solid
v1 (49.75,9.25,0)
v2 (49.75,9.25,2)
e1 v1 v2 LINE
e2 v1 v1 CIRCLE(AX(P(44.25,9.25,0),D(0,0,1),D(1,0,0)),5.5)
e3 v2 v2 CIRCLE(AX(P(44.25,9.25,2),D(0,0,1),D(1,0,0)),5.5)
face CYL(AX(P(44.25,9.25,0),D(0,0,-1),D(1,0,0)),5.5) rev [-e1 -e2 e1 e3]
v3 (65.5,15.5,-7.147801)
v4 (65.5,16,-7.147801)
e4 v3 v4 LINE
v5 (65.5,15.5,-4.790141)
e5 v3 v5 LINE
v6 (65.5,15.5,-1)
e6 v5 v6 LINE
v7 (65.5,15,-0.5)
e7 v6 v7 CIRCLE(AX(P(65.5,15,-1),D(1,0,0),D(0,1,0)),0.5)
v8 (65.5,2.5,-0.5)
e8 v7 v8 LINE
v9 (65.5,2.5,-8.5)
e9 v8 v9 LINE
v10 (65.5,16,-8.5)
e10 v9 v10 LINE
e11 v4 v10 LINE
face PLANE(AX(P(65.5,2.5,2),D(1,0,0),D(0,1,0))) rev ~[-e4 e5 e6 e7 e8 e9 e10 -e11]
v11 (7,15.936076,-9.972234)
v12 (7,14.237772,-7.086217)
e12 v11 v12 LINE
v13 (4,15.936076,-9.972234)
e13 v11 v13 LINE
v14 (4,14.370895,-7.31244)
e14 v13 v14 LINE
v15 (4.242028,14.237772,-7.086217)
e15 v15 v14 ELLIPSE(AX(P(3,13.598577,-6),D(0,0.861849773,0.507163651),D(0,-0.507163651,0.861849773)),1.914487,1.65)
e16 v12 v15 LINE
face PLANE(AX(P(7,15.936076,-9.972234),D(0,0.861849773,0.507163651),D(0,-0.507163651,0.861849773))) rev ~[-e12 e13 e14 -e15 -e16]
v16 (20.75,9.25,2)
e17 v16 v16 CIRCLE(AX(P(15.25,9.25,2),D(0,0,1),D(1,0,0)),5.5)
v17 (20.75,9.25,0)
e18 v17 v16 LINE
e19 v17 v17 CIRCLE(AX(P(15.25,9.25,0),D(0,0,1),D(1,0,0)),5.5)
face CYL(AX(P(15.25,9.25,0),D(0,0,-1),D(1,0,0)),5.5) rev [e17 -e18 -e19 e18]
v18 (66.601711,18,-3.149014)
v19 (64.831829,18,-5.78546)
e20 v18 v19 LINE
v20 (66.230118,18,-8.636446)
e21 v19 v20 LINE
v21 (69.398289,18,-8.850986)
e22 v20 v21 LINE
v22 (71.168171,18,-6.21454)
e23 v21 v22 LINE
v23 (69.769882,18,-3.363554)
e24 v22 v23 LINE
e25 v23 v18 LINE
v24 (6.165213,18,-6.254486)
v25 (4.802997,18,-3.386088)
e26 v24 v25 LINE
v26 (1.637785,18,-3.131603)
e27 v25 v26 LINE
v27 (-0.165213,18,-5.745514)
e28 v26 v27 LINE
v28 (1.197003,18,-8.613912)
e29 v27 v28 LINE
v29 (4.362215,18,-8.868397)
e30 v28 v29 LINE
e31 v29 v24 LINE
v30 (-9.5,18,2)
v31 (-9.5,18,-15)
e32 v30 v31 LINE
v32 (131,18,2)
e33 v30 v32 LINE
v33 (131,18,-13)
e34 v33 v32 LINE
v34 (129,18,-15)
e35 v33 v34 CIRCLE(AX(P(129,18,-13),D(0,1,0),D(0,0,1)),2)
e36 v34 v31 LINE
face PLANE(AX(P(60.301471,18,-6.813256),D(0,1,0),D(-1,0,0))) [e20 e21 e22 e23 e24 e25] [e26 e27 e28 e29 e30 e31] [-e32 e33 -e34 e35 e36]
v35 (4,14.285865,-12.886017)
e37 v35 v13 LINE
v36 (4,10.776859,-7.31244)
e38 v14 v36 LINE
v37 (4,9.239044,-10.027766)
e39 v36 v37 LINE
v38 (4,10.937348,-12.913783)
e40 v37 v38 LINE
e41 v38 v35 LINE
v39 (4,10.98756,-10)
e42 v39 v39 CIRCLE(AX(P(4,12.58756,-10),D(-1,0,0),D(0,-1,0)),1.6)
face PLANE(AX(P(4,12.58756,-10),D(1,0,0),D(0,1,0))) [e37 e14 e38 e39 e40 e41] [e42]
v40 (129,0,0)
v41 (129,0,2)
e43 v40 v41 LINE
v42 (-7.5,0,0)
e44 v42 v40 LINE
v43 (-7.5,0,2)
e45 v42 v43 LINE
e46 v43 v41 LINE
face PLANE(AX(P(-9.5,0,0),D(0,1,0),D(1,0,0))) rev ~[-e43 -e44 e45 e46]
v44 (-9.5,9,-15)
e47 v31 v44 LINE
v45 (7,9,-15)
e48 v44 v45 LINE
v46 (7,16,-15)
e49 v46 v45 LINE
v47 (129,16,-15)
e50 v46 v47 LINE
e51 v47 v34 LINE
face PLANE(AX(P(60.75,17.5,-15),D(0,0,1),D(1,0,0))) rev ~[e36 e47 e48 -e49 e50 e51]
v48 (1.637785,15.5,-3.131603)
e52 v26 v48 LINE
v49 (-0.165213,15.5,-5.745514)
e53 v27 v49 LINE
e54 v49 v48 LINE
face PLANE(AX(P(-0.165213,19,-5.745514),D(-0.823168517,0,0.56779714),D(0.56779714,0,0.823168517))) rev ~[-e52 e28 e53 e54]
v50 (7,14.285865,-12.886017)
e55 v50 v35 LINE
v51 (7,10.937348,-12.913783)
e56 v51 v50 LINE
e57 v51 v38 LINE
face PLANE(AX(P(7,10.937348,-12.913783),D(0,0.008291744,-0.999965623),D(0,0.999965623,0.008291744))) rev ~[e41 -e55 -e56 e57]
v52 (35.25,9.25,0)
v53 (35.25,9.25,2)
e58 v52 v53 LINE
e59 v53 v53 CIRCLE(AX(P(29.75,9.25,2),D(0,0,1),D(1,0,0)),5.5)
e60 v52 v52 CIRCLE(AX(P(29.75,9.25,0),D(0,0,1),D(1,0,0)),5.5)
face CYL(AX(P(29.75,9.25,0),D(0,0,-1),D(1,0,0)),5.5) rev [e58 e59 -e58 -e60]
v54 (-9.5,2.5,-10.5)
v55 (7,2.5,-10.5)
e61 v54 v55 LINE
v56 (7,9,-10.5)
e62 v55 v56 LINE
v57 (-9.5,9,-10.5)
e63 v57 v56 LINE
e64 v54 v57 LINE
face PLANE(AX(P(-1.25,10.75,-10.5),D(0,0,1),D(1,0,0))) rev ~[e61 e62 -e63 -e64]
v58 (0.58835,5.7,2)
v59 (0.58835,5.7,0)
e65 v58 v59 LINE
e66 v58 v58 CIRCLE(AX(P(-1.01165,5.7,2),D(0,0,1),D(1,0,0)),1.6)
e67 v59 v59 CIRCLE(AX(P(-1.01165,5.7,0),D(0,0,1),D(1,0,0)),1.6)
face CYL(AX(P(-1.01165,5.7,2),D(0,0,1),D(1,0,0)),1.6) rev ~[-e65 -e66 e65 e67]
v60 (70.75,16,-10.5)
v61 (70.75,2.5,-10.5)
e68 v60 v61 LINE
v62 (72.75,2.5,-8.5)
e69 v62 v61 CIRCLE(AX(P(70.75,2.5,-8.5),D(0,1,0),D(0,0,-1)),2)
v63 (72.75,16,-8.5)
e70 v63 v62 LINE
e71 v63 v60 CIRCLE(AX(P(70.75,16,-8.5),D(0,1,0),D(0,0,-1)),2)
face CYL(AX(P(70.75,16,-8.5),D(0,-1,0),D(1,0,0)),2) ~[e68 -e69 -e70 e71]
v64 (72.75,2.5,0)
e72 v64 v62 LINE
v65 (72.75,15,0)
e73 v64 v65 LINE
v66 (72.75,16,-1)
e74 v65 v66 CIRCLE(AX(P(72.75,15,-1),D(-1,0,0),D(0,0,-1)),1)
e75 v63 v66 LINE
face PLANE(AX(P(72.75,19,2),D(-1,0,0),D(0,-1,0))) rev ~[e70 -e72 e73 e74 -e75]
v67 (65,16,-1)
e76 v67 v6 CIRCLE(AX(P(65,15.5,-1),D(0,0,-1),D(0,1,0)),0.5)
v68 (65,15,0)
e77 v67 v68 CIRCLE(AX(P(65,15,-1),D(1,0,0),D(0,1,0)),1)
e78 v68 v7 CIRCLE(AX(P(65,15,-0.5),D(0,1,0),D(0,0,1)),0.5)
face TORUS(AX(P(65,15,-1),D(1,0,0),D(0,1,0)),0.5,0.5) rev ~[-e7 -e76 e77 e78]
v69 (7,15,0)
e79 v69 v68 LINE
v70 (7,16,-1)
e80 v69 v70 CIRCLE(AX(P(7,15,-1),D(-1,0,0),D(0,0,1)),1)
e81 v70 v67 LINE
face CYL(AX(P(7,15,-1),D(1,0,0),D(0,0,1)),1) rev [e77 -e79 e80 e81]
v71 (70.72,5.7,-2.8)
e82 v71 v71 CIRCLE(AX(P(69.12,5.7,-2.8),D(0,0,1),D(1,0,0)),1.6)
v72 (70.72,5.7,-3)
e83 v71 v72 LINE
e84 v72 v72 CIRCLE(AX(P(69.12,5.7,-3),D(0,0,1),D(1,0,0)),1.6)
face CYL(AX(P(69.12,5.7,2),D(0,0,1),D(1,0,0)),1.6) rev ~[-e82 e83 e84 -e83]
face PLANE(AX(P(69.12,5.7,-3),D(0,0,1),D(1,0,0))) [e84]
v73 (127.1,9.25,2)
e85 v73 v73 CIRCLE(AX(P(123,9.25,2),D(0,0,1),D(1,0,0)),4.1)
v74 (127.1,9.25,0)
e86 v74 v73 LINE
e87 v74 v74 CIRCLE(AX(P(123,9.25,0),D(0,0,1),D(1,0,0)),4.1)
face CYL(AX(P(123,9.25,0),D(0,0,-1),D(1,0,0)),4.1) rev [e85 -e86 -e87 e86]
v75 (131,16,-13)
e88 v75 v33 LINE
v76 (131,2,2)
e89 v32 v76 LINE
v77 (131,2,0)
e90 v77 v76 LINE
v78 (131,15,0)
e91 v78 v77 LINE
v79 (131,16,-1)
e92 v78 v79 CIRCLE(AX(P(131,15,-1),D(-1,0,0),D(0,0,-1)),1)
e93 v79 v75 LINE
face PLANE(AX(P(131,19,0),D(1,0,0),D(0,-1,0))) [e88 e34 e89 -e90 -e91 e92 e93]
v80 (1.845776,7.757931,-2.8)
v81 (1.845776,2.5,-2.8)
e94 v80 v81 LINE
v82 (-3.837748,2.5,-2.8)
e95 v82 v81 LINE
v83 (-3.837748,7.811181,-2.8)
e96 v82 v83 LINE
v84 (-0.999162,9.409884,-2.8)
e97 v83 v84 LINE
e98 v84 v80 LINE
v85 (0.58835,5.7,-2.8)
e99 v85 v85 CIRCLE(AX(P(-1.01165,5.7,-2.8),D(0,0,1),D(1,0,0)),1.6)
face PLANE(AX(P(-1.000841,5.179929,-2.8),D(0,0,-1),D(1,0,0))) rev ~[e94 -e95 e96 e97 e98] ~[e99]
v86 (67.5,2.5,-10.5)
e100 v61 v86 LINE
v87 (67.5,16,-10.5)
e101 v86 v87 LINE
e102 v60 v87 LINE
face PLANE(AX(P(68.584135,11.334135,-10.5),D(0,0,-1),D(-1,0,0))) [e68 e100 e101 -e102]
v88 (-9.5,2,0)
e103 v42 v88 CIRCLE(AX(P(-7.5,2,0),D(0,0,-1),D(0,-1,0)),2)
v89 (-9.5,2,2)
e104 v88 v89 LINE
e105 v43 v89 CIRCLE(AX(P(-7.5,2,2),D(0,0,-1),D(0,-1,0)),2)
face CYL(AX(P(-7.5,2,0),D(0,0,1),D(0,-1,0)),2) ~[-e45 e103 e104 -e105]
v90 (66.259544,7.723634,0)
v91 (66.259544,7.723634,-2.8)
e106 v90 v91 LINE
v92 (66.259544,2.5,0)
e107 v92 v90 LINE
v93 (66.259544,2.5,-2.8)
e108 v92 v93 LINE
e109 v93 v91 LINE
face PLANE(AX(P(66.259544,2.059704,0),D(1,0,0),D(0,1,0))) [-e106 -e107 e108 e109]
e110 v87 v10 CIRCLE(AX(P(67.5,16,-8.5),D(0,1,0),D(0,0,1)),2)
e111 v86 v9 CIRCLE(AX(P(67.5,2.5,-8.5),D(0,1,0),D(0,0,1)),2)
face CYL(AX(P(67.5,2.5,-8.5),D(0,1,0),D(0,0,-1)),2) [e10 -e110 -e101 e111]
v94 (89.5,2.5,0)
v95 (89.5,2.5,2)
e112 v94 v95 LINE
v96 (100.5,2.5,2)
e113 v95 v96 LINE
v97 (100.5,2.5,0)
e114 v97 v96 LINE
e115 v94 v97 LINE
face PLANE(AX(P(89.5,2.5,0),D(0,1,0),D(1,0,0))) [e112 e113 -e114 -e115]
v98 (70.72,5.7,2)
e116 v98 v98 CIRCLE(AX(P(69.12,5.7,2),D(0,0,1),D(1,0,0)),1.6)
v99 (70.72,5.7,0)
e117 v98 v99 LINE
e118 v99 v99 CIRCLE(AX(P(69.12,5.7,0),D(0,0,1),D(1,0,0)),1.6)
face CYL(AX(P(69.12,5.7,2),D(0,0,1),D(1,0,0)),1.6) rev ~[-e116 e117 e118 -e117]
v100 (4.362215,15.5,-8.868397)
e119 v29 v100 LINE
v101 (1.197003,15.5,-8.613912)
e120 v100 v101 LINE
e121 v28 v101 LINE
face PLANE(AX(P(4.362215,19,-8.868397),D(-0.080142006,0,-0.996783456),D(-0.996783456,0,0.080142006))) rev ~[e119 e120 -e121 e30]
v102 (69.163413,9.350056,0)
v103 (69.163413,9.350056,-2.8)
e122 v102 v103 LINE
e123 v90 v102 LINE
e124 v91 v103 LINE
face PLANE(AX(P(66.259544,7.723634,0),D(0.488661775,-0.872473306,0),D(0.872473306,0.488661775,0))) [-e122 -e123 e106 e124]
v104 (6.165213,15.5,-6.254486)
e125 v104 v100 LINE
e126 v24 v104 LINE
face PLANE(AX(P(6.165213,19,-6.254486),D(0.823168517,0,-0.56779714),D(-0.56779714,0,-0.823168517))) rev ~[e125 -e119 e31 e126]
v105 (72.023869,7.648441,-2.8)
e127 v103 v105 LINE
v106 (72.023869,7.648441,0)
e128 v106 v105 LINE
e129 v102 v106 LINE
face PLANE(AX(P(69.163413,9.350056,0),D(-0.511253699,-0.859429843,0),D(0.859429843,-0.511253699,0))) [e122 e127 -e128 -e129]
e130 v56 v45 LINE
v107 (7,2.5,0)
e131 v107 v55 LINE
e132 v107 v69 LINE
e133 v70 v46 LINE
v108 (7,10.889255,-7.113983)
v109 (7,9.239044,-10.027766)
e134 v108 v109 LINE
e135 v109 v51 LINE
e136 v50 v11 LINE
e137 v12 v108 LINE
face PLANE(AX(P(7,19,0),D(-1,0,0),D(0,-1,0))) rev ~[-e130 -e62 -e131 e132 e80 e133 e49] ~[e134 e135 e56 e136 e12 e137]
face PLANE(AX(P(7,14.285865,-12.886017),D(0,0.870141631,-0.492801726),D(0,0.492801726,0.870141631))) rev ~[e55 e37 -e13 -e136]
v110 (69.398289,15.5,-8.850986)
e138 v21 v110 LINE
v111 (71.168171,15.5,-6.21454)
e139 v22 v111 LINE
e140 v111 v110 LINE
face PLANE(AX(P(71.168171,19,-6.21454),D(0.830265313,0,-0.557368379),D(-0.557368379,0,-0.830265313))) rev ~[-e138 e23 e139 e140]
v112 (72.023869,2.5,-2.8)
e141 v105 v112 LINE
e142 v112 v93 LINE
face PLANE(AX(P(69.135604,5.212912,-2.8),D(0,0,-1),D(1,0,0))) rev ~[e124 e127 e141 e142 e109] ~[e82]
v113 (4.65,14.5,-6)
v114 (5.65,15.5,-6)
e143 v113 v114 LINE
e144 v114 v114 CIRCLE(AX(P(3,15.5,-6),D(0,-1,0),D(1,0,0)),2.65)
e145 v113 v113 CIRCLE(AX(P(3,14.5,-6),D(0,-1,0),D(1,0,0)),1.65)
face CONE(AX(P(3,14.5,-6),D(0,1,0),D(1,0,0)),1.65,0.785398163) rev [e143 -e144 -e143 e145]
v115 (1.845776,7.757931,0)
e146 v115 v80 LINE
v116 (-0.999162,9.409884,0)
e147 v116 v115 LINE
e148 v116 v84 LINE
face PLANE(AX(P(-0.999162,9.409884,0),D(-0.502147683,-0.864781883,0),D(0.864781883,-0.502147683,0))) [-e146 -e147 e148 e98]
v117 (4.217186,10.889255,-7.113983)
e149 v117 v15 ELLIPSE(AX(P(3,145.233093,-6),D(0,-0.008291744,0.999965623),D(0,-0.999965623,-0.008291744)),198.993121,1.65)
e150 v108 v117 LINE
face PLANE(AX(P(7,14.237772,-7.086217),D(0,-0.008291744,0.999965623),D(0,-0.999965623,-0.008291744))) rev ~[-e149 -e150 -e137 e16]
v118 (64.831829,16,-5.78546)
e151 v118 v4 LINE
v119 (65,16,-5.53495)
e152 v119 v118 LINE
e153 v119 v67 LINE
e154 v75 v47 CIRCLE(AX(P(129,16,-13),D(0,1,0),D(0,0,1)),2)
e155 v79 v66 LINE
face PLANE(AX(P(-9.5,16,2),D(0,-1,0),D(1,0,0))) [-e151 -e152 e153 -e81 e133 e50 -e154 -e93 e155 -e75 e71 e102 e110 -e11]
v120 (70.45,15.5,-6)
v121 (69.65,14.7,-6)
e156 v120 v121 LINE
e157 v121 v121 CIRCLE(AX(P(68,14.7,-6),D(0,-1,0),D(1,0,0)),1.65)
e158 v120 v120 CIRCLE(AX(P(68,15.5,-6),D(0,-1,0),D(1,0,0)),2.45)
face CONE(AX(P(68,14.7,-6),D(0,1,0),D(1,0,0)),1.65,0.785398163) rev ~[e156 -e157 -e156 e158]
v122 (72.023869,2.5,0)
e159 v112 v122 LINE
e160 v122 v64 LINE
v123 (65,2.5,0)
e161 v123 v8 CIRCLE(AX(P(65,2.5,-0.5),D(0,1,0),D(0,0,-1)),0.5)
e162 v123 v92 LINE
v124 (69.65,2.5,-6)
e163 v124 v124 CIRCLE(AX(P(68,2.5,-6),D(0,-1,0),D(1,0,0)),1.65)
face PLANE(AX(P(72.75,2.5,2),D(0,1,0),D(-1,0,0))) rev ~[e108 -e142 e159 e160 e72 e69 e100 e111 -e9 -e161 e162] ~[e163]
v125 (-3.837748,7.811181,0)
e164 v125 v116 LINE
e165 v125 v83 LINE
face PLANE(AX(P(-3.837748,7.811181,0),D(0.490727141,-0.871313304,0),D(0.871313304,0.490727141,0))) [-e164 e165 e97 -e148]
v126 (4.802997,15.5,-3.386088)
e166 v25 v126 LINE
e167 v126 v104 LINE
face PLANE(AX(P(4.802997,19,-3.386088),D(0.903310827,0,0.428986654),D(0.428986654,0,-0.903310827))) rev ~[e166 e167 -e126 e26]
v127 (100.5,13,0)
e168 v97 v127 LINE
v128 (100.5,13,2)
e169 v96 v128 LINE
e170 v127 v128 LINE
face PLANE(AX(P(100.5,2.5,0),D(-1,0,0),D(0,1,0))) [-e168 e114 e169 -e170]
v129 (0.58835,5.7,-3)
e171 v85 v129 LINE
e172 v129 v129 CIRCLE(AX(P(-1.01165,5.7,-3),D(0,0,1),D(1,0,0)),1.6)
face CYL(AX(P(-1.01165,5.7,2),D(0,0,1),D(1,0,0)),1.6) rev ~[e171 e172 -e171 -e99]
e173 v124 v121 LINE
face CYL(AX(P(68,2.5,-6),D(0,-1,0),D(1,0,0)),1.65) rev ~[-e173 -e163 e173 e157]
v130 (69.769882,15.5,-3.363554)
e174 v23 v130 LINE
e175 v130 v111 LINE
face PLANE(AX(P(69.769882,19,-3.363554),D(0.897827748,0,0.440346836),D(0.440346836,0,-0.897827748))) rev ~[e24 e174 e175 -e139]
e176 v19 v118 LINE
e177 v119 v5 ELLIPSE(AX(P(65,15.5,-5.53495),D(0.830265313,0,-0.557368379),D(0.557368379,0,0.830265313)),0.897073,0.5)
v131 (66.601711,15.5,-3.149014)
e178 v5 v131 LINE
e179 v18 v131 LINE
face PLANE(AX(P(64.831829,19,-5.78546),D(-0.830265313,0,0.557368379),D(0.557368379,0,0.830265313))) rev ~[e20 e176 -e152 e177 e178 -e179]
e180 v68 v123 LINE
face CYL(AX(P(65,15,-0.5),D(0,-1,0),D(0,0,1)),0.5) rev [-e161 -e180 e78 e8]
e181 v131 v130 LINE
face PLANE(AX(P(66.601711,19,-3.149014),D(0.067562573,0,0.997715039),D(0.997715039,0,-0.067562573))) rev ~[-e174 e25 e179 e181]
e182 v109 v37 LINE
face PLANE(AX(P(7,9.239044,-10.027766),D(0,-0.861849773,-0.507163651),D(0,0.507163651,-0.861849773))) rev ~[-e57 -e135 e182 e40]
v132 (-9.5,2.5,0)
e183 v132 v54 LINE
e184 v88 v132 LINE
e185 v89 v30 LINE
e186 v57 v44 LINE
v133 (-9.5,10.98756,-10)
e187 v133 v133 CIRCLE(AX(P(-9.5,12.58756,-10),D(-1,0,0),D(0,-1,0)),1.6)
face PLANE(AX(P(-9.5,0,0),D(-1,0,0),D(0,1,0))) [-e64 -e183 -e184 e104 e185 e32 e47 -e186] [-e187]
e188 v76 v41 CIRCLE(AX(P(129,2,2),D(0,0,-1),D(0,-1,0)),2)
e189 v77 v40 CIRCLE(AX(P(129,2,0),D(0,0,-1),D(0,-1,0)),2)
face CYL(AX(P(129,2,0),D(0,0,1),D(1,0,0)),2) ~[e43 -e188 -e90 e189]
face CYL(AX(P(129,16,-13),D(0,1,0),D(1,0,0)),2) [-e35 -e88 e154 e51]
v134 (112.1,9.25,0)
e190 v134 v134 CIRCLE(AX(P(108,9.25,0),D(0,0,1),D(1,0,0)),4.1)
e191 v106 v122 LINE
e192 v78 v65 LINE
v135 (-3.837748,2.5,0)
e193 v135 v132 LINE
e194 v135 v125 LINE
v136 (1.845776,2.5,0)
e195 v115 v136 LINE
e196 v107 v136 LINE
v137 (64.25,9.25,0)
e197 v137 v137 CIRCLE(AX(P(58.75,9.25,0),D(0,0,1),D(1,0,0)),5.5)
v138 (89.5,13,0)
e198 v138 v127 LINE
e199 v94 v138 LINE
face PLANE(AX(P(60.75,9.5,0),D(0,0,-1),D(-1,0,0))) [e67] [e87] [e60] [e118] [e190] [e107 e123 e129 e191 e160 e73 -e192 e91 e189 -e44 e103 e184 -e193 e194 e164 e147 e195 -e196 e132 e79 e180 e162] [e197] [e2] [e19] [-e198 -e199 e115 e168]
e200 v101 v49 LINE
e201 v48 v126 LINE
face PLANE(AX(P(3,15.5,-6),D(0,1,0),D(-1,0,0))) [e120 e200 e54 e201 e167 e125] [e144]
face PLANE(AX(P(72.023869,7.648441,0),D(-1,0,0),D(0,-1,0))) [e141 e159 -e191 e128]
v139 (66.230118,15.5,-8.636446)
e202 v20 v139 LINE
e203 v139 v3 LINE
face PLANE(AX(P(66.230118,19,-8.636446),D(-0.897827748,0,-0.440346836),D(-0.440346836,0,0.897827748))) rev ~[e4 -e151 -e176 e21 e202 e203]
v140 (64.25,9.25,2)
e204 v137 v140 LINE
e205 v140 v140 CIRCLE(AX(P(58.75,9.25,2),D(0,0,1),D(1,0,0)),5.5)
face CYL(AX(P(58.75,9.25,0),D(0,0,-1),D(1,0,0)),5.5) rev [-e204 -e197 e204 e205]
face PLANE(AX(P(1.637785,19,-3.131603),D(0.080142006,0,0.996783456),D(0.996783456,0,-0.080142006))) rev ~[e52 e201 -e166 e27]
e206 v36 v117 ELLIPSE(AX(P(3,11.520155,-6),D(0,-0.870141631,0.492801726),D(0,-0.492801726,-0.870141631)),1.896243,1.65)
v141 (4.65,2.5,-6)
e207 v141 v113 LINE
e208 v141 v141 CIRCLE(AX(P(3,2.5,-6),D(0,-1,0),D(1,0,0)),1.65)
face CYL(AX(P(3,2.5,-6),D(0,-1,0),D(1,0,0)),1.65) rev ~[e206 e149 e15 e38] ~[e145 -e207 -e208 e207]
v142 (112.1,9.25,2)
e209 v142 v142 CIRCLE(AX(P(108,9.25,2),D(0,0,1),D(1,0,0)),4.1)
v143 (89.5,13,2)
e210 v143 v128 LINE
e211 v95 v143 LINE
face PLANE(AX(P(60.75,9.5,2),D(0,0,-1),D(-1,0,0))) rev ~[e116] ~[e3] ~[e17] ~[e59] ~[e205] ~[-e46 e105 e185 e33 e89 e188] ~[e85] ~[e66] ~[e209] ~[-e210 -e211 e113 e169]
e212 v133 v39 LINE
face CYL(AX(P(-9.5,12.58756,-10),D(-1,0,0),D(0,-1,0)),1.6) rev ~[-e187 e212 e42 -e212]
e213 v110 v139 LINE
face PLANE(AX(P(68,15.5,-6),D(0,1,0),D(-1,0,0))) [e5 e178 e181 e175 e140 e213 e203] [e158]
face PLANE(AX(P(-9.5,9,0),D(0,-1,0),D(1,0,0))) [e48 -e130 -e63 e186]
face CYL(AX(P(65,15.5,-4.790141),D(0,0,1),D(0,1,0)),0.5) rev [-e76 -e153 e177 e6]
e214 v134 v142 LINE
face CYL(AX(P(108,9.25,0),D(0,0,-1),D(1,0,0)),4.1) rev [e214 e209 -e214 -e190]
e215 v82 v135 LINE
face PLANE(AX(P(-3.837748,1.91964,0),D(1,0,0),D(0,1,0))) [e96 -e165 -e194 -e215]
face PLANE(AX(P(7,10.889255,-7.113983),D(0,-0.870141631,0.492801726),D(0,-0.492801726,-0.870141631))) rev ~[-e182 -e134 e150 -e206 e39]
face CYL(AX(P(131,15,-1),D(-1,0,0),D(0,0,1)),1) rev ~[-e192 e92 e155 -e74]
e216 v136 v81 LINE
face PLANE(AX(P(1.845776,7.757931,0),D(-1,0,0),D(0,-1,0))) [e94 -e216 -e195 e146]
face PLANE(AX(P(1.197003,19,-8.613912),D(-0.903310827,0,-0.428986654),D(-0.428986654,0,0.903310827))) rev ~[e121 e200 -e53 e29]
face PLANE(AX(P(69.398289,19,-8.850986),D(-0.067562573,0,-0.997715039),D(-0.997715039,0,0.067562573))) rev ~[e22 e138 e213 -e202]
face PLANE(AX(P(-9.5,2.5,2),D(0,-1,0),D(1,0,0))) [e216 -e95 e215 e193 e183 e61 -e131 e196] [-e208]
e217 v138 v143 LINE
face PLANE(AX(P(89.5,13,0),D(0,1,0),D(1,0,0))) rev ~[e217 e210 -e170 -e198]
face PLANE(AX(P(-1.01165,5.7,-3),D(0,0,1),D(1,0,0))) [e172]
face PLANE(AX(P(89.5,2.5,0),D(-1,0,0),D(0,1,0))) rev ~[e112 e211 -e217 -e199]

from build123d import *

# Parameters (mm, degrees)
SKETCH_R        = 5.5
SKETCH_R_2      = 4.1
SKETCH_W        = 11
SKETCH_H        = 10.5
PAD_DEPTH       = 2
SKETCH001_W     = 16.5
SKETCH001_H     = 16.5
PAD001_DEPTH    = 12.5
SKETCH002_W     = 140.5
SKETCH002_H     = 3
PAD002_DEPTH    = 17
SKETCH003_W     = 16.5
SKETCH003_H     = 10
PAD003_DEPTH    = 15
SKETCH004_R     = 1.65
POCKET_DEPTH    = 20
POCKET001_DEPTH = 3.5
SKETCH006_R     = 1.6
POCKET002_DEPTH = 20
POCKET003_DEPTH = 3
SKETCH008_R     = 1.6
POCKET004_DEPTH = 5
POCKET005_DEPTH = 2.8
POCKET006_DEPTH = 2.8
CHAMFER_SIZE    = 0.8
CHAMFER001_SIZE = 1
SKETCH011_W     = 142.26446
SKETCH011_H     = 19.063439
POCKET007_DEPTH = 1
FILLET_R        = 2
FILLET001_R     = 2
FILLET002_R     = 2
FILLET003_R     = 2
FILLET004_R     = 2
FILLET005_R     = 1
FILLET006_R     = 1
FILLET007_R     = 0.5


with BuildPart() as part:
    # Sketch → Pad (new body)
    with BuildSketch(Plane.XY):
        Polygon((0, 19), (131, 19), (131, 0), (0, 0), (-9.5, 0), (-9.5, 19), align=None)
        with Locations((15.25, 9.25)):
            Circle(SKETCH_R, mode=Mode.SUBTRACT)
        with Locations((29.75, 9.25)):
            Circle(SKETCH_R, mode=Mode.SUBTRACT)
        with Locations((44.25, 9.25)):
            Circle(SKETCH_R, mode=Mode.SUBTRACT)
        with Locations((58.75, 9.25)):
            Circle(SKETCH_R, mode=Mode.SUBTRACT)
        with Locations((108, 9.25)):
            Circle(SKETCH_R_2, mode=Mode.SUBTRACT)
        with Locations((123, 9.25)):
            Circle(SKETCH_R_2, mode=Mode.SUBTRACT)
        with Locations((95, 7.75)):
            Rectangle(SKETCH_W, SKETCH_H, mode=Mode.SUBTRACT)
    extrude(amount=PAD_DEPTH)

    # Sketch001 → Pad001 (new body)
    with BuildSketch(Plane.XY.offset(2)):
        with Locations((-1.25, 10.75)):
            Rectangle(SKETCH001_W, SKETCH001_H)
        Polygon((63.25, 19), (72.75, 19), (72.75, 2.5), (65.5, 2.5), (65.5, 16), (63.25, 16), align=None)
    extrude(amount=-PAD001_DEPTH)

    # Sketch002 → Pad002 (new body)
    with BuildSketch(Plane.XY.offset(2)):
        with Locations((60.75, 17.5)):
            Rectangle(SKETCH002_W, SKETCH002_H)
    extrude(amount=-PAD002_DEPTH)

    # Sketch003 → Pad003 (new body)
    with BuildSketch(Plane(origin=(0, 0, 0), x_dir=(1, 0, 0), z_dir=(0, 0, -1))):
        with Locations((-1.25, -14)):
            Rectangle(SKETCH003_W, SKETCH003_H)
    extrude(amount=PAD003_DEPTH)

    # Sketch004 → Pocket (cut)
    with BuildSketch(Plane.XZ.offset(-2.5)):
        with Locations((3, -6)):
            Circle(SKETCH004_R)
        with Locations((68, -6)):
            Circle(SKETCH004_R)
    extrude(amount=-POCKET_DEPTH, mode=Mode.SUBTRACT)

    # Sketch005 → Pocket001 (cut)
    with BuildSketch(Plane(origin=(0, 19, 0), x_dir=(-1, 0, 0), z_dir=(0, 1, 0))):
        Polygon((-4.802997, -3.386088), (-6.165213, -6.254486), (-4.362215, -8.868397), (-1.197003, -8.613912), (0.165213, -5.745514), (-1.637785, -3.131603), align=None)
        Polygon((-64.831829, -5.78546), (-66.601711, -3.149014), (-69.769882, -3.363554), (-71.168171, -6.21454), (-69.398289, -8.850986), (-66.230118, -8.636446), align=None)
    extrude(amount=-POCKET001_DEPTH, mode=Mode.SUBTRACT)

    # Sketch006 → Pocket002 (cut)
    with BuildSketch(Plane(origin=(-9.5, 0, 0), x_dir=(0, -1, 0), z_dir=(-1, 0, 0))):
        with Locations((-12.58756, -10)):
            Circle(SKETCH006_R)
    extrude(amount=-POCKET002_DEPTH, mode=Mode.SUBTRACT)

    # Sketch007 → Pocket003 (cut)
    with BuildSketch(Plane.YZ.offset(7)):
        Polygon((14.285865, -12.886017), (15.936076, -9.972234), (14.237772, -7.086217), (10.889255, -7.113983), (9.239044, -10.027766), (10.937348, -12.913783), align=None)
    extrude(amount=-POCKET003_DEPTH, mode=Mode.SUBTRACT)

    # Sketch008 → Pocket004 (cut)
    with BuildSketch(Plane.XY.offset(2)):
        with Locations((69.12, 5.7)):
            Circle(SKETCH008_R)
        with Locations((-1.01165, 5.7)):
            Circle(SKETCH008_R)
    extrude(amount=-POCKET004_DEPTH, mode=Mode.SUBTRACT)

    # Sketch009 → Pocket005 (cut)
    with BuildSketch(Plane(origin=(0, 0, 0), x_dir=(1, 0, 0), z_dir=(0, 0, -1))):
        Polygon((66.259544, -7.723634), (69.163413, -9.350056), (72.023869, -7.648441), (72.023869, -2.059704), (66.259544, -2.059704), align=None)
    extrude(amount=POCKET005_DEPTH, mode=Mode.SUBTRACT)

    # Sketch010 → Pocket006 (cut)
    with BuildSketch(Plane(origin=(0, 0, 0), x_dir=(1, 0, 0), z_dir=(0, 0, -1))):
        Polygon((-3.837748, -7.811181), (-0.999162, -9.409884), (1.845776, -7.757931), (1.845776, -1.91964), (-3.837748, -1.91964), align=None)
    extrude(amount=POCKET006_DEPTH, mode=Mode.SUBTRACT)

    # Chamfer
    chamfer_edges = [part.edges().sort_by_distance(p)[0] for p in [
        (66.35, 15.5, -6),
    ]]
    chamfer(chamfer_edges, length=CHAMFER_SIZE)

    # Chamfer001
    chamfer001_edges = [part.edges().sort_by_distance(p)[0] for p in [
        (1.35, 15.5, -6),
    ]]
    chamfer(chamfer001_edges, length=CHAMFER001_SIZE)

    # Sketch011 → Pocket007 (cut)
    with BuildSketch(Plane(origin=(0, 19, 0), x_dir=(-1, 0, 0), z_dir=(0, 1, 0))):
        with Locations((-60.301471, -6.813256)):
            Rectangle(SKETCH011_W, SKETCH011_H)
    extrude(amount=-POCKET007_DEPTH, mode=Mode.SUBTRACT)

    # Fillet
    fillet_edges = [part.edges().sort_by_distance(p)[0] for p in [
        (72.75, 9.25, -10.5),
    ]]
    fillet(fillet_edges, radius=FILLET_R)

    # Fillet001
    fillet001_edges = [part.edges().sort_by_distance(p)[0] for p in [
        (65.5, 9.25, -10.5),
    ]]
    fillet(fillet001_edges, radius=FILLET001_R)

    # Fillet002
    fillet002_edges = [part.edges().sort_by_distance(p)[0] for p in [
        (131, 0, 1),
    ]]
    fillet(fillet002_edges, radius=FILLET002_R)

    # Fillet003
    fillet003_edges = [part.edges().sort_by_distance(p)[0] for p in [
        (131, 17, -15),
    ]]
    fillet(fillet003_edges, radius=FILLET003_R)

    # Fillet004
    fillet004_edges = [part.edges().sort_by_distance(p)[0] for p in [
        (-9.5, 0, 1),
    ]]
    fillet(fillet004_edges, radius=FILLET004_R)

    # Fillet005
    fillet005_edges = [part.edges().sort_by_distance(p)[0] for p in [
        (101.875, 16, 0),
    ]]
    fillet(fillet005_edges, radius=FILLET005_R)

    # Fillet006
    fillet006_edges = [part.edges().sort_by_distance(p)[0] for p in [
        (35.125, 16, 0),
    ]]
    fillet(fillet006_edges, radius=FILLET006_R)

    # Fillet007
    fillet007_edges = [part.edges().sort_by_distance(p)[0] for p in [
        (65.5, 8.75, 0),
    ]]
    fillet(fillet007_edges, radius=FILLET007_R)


solid = part.part
